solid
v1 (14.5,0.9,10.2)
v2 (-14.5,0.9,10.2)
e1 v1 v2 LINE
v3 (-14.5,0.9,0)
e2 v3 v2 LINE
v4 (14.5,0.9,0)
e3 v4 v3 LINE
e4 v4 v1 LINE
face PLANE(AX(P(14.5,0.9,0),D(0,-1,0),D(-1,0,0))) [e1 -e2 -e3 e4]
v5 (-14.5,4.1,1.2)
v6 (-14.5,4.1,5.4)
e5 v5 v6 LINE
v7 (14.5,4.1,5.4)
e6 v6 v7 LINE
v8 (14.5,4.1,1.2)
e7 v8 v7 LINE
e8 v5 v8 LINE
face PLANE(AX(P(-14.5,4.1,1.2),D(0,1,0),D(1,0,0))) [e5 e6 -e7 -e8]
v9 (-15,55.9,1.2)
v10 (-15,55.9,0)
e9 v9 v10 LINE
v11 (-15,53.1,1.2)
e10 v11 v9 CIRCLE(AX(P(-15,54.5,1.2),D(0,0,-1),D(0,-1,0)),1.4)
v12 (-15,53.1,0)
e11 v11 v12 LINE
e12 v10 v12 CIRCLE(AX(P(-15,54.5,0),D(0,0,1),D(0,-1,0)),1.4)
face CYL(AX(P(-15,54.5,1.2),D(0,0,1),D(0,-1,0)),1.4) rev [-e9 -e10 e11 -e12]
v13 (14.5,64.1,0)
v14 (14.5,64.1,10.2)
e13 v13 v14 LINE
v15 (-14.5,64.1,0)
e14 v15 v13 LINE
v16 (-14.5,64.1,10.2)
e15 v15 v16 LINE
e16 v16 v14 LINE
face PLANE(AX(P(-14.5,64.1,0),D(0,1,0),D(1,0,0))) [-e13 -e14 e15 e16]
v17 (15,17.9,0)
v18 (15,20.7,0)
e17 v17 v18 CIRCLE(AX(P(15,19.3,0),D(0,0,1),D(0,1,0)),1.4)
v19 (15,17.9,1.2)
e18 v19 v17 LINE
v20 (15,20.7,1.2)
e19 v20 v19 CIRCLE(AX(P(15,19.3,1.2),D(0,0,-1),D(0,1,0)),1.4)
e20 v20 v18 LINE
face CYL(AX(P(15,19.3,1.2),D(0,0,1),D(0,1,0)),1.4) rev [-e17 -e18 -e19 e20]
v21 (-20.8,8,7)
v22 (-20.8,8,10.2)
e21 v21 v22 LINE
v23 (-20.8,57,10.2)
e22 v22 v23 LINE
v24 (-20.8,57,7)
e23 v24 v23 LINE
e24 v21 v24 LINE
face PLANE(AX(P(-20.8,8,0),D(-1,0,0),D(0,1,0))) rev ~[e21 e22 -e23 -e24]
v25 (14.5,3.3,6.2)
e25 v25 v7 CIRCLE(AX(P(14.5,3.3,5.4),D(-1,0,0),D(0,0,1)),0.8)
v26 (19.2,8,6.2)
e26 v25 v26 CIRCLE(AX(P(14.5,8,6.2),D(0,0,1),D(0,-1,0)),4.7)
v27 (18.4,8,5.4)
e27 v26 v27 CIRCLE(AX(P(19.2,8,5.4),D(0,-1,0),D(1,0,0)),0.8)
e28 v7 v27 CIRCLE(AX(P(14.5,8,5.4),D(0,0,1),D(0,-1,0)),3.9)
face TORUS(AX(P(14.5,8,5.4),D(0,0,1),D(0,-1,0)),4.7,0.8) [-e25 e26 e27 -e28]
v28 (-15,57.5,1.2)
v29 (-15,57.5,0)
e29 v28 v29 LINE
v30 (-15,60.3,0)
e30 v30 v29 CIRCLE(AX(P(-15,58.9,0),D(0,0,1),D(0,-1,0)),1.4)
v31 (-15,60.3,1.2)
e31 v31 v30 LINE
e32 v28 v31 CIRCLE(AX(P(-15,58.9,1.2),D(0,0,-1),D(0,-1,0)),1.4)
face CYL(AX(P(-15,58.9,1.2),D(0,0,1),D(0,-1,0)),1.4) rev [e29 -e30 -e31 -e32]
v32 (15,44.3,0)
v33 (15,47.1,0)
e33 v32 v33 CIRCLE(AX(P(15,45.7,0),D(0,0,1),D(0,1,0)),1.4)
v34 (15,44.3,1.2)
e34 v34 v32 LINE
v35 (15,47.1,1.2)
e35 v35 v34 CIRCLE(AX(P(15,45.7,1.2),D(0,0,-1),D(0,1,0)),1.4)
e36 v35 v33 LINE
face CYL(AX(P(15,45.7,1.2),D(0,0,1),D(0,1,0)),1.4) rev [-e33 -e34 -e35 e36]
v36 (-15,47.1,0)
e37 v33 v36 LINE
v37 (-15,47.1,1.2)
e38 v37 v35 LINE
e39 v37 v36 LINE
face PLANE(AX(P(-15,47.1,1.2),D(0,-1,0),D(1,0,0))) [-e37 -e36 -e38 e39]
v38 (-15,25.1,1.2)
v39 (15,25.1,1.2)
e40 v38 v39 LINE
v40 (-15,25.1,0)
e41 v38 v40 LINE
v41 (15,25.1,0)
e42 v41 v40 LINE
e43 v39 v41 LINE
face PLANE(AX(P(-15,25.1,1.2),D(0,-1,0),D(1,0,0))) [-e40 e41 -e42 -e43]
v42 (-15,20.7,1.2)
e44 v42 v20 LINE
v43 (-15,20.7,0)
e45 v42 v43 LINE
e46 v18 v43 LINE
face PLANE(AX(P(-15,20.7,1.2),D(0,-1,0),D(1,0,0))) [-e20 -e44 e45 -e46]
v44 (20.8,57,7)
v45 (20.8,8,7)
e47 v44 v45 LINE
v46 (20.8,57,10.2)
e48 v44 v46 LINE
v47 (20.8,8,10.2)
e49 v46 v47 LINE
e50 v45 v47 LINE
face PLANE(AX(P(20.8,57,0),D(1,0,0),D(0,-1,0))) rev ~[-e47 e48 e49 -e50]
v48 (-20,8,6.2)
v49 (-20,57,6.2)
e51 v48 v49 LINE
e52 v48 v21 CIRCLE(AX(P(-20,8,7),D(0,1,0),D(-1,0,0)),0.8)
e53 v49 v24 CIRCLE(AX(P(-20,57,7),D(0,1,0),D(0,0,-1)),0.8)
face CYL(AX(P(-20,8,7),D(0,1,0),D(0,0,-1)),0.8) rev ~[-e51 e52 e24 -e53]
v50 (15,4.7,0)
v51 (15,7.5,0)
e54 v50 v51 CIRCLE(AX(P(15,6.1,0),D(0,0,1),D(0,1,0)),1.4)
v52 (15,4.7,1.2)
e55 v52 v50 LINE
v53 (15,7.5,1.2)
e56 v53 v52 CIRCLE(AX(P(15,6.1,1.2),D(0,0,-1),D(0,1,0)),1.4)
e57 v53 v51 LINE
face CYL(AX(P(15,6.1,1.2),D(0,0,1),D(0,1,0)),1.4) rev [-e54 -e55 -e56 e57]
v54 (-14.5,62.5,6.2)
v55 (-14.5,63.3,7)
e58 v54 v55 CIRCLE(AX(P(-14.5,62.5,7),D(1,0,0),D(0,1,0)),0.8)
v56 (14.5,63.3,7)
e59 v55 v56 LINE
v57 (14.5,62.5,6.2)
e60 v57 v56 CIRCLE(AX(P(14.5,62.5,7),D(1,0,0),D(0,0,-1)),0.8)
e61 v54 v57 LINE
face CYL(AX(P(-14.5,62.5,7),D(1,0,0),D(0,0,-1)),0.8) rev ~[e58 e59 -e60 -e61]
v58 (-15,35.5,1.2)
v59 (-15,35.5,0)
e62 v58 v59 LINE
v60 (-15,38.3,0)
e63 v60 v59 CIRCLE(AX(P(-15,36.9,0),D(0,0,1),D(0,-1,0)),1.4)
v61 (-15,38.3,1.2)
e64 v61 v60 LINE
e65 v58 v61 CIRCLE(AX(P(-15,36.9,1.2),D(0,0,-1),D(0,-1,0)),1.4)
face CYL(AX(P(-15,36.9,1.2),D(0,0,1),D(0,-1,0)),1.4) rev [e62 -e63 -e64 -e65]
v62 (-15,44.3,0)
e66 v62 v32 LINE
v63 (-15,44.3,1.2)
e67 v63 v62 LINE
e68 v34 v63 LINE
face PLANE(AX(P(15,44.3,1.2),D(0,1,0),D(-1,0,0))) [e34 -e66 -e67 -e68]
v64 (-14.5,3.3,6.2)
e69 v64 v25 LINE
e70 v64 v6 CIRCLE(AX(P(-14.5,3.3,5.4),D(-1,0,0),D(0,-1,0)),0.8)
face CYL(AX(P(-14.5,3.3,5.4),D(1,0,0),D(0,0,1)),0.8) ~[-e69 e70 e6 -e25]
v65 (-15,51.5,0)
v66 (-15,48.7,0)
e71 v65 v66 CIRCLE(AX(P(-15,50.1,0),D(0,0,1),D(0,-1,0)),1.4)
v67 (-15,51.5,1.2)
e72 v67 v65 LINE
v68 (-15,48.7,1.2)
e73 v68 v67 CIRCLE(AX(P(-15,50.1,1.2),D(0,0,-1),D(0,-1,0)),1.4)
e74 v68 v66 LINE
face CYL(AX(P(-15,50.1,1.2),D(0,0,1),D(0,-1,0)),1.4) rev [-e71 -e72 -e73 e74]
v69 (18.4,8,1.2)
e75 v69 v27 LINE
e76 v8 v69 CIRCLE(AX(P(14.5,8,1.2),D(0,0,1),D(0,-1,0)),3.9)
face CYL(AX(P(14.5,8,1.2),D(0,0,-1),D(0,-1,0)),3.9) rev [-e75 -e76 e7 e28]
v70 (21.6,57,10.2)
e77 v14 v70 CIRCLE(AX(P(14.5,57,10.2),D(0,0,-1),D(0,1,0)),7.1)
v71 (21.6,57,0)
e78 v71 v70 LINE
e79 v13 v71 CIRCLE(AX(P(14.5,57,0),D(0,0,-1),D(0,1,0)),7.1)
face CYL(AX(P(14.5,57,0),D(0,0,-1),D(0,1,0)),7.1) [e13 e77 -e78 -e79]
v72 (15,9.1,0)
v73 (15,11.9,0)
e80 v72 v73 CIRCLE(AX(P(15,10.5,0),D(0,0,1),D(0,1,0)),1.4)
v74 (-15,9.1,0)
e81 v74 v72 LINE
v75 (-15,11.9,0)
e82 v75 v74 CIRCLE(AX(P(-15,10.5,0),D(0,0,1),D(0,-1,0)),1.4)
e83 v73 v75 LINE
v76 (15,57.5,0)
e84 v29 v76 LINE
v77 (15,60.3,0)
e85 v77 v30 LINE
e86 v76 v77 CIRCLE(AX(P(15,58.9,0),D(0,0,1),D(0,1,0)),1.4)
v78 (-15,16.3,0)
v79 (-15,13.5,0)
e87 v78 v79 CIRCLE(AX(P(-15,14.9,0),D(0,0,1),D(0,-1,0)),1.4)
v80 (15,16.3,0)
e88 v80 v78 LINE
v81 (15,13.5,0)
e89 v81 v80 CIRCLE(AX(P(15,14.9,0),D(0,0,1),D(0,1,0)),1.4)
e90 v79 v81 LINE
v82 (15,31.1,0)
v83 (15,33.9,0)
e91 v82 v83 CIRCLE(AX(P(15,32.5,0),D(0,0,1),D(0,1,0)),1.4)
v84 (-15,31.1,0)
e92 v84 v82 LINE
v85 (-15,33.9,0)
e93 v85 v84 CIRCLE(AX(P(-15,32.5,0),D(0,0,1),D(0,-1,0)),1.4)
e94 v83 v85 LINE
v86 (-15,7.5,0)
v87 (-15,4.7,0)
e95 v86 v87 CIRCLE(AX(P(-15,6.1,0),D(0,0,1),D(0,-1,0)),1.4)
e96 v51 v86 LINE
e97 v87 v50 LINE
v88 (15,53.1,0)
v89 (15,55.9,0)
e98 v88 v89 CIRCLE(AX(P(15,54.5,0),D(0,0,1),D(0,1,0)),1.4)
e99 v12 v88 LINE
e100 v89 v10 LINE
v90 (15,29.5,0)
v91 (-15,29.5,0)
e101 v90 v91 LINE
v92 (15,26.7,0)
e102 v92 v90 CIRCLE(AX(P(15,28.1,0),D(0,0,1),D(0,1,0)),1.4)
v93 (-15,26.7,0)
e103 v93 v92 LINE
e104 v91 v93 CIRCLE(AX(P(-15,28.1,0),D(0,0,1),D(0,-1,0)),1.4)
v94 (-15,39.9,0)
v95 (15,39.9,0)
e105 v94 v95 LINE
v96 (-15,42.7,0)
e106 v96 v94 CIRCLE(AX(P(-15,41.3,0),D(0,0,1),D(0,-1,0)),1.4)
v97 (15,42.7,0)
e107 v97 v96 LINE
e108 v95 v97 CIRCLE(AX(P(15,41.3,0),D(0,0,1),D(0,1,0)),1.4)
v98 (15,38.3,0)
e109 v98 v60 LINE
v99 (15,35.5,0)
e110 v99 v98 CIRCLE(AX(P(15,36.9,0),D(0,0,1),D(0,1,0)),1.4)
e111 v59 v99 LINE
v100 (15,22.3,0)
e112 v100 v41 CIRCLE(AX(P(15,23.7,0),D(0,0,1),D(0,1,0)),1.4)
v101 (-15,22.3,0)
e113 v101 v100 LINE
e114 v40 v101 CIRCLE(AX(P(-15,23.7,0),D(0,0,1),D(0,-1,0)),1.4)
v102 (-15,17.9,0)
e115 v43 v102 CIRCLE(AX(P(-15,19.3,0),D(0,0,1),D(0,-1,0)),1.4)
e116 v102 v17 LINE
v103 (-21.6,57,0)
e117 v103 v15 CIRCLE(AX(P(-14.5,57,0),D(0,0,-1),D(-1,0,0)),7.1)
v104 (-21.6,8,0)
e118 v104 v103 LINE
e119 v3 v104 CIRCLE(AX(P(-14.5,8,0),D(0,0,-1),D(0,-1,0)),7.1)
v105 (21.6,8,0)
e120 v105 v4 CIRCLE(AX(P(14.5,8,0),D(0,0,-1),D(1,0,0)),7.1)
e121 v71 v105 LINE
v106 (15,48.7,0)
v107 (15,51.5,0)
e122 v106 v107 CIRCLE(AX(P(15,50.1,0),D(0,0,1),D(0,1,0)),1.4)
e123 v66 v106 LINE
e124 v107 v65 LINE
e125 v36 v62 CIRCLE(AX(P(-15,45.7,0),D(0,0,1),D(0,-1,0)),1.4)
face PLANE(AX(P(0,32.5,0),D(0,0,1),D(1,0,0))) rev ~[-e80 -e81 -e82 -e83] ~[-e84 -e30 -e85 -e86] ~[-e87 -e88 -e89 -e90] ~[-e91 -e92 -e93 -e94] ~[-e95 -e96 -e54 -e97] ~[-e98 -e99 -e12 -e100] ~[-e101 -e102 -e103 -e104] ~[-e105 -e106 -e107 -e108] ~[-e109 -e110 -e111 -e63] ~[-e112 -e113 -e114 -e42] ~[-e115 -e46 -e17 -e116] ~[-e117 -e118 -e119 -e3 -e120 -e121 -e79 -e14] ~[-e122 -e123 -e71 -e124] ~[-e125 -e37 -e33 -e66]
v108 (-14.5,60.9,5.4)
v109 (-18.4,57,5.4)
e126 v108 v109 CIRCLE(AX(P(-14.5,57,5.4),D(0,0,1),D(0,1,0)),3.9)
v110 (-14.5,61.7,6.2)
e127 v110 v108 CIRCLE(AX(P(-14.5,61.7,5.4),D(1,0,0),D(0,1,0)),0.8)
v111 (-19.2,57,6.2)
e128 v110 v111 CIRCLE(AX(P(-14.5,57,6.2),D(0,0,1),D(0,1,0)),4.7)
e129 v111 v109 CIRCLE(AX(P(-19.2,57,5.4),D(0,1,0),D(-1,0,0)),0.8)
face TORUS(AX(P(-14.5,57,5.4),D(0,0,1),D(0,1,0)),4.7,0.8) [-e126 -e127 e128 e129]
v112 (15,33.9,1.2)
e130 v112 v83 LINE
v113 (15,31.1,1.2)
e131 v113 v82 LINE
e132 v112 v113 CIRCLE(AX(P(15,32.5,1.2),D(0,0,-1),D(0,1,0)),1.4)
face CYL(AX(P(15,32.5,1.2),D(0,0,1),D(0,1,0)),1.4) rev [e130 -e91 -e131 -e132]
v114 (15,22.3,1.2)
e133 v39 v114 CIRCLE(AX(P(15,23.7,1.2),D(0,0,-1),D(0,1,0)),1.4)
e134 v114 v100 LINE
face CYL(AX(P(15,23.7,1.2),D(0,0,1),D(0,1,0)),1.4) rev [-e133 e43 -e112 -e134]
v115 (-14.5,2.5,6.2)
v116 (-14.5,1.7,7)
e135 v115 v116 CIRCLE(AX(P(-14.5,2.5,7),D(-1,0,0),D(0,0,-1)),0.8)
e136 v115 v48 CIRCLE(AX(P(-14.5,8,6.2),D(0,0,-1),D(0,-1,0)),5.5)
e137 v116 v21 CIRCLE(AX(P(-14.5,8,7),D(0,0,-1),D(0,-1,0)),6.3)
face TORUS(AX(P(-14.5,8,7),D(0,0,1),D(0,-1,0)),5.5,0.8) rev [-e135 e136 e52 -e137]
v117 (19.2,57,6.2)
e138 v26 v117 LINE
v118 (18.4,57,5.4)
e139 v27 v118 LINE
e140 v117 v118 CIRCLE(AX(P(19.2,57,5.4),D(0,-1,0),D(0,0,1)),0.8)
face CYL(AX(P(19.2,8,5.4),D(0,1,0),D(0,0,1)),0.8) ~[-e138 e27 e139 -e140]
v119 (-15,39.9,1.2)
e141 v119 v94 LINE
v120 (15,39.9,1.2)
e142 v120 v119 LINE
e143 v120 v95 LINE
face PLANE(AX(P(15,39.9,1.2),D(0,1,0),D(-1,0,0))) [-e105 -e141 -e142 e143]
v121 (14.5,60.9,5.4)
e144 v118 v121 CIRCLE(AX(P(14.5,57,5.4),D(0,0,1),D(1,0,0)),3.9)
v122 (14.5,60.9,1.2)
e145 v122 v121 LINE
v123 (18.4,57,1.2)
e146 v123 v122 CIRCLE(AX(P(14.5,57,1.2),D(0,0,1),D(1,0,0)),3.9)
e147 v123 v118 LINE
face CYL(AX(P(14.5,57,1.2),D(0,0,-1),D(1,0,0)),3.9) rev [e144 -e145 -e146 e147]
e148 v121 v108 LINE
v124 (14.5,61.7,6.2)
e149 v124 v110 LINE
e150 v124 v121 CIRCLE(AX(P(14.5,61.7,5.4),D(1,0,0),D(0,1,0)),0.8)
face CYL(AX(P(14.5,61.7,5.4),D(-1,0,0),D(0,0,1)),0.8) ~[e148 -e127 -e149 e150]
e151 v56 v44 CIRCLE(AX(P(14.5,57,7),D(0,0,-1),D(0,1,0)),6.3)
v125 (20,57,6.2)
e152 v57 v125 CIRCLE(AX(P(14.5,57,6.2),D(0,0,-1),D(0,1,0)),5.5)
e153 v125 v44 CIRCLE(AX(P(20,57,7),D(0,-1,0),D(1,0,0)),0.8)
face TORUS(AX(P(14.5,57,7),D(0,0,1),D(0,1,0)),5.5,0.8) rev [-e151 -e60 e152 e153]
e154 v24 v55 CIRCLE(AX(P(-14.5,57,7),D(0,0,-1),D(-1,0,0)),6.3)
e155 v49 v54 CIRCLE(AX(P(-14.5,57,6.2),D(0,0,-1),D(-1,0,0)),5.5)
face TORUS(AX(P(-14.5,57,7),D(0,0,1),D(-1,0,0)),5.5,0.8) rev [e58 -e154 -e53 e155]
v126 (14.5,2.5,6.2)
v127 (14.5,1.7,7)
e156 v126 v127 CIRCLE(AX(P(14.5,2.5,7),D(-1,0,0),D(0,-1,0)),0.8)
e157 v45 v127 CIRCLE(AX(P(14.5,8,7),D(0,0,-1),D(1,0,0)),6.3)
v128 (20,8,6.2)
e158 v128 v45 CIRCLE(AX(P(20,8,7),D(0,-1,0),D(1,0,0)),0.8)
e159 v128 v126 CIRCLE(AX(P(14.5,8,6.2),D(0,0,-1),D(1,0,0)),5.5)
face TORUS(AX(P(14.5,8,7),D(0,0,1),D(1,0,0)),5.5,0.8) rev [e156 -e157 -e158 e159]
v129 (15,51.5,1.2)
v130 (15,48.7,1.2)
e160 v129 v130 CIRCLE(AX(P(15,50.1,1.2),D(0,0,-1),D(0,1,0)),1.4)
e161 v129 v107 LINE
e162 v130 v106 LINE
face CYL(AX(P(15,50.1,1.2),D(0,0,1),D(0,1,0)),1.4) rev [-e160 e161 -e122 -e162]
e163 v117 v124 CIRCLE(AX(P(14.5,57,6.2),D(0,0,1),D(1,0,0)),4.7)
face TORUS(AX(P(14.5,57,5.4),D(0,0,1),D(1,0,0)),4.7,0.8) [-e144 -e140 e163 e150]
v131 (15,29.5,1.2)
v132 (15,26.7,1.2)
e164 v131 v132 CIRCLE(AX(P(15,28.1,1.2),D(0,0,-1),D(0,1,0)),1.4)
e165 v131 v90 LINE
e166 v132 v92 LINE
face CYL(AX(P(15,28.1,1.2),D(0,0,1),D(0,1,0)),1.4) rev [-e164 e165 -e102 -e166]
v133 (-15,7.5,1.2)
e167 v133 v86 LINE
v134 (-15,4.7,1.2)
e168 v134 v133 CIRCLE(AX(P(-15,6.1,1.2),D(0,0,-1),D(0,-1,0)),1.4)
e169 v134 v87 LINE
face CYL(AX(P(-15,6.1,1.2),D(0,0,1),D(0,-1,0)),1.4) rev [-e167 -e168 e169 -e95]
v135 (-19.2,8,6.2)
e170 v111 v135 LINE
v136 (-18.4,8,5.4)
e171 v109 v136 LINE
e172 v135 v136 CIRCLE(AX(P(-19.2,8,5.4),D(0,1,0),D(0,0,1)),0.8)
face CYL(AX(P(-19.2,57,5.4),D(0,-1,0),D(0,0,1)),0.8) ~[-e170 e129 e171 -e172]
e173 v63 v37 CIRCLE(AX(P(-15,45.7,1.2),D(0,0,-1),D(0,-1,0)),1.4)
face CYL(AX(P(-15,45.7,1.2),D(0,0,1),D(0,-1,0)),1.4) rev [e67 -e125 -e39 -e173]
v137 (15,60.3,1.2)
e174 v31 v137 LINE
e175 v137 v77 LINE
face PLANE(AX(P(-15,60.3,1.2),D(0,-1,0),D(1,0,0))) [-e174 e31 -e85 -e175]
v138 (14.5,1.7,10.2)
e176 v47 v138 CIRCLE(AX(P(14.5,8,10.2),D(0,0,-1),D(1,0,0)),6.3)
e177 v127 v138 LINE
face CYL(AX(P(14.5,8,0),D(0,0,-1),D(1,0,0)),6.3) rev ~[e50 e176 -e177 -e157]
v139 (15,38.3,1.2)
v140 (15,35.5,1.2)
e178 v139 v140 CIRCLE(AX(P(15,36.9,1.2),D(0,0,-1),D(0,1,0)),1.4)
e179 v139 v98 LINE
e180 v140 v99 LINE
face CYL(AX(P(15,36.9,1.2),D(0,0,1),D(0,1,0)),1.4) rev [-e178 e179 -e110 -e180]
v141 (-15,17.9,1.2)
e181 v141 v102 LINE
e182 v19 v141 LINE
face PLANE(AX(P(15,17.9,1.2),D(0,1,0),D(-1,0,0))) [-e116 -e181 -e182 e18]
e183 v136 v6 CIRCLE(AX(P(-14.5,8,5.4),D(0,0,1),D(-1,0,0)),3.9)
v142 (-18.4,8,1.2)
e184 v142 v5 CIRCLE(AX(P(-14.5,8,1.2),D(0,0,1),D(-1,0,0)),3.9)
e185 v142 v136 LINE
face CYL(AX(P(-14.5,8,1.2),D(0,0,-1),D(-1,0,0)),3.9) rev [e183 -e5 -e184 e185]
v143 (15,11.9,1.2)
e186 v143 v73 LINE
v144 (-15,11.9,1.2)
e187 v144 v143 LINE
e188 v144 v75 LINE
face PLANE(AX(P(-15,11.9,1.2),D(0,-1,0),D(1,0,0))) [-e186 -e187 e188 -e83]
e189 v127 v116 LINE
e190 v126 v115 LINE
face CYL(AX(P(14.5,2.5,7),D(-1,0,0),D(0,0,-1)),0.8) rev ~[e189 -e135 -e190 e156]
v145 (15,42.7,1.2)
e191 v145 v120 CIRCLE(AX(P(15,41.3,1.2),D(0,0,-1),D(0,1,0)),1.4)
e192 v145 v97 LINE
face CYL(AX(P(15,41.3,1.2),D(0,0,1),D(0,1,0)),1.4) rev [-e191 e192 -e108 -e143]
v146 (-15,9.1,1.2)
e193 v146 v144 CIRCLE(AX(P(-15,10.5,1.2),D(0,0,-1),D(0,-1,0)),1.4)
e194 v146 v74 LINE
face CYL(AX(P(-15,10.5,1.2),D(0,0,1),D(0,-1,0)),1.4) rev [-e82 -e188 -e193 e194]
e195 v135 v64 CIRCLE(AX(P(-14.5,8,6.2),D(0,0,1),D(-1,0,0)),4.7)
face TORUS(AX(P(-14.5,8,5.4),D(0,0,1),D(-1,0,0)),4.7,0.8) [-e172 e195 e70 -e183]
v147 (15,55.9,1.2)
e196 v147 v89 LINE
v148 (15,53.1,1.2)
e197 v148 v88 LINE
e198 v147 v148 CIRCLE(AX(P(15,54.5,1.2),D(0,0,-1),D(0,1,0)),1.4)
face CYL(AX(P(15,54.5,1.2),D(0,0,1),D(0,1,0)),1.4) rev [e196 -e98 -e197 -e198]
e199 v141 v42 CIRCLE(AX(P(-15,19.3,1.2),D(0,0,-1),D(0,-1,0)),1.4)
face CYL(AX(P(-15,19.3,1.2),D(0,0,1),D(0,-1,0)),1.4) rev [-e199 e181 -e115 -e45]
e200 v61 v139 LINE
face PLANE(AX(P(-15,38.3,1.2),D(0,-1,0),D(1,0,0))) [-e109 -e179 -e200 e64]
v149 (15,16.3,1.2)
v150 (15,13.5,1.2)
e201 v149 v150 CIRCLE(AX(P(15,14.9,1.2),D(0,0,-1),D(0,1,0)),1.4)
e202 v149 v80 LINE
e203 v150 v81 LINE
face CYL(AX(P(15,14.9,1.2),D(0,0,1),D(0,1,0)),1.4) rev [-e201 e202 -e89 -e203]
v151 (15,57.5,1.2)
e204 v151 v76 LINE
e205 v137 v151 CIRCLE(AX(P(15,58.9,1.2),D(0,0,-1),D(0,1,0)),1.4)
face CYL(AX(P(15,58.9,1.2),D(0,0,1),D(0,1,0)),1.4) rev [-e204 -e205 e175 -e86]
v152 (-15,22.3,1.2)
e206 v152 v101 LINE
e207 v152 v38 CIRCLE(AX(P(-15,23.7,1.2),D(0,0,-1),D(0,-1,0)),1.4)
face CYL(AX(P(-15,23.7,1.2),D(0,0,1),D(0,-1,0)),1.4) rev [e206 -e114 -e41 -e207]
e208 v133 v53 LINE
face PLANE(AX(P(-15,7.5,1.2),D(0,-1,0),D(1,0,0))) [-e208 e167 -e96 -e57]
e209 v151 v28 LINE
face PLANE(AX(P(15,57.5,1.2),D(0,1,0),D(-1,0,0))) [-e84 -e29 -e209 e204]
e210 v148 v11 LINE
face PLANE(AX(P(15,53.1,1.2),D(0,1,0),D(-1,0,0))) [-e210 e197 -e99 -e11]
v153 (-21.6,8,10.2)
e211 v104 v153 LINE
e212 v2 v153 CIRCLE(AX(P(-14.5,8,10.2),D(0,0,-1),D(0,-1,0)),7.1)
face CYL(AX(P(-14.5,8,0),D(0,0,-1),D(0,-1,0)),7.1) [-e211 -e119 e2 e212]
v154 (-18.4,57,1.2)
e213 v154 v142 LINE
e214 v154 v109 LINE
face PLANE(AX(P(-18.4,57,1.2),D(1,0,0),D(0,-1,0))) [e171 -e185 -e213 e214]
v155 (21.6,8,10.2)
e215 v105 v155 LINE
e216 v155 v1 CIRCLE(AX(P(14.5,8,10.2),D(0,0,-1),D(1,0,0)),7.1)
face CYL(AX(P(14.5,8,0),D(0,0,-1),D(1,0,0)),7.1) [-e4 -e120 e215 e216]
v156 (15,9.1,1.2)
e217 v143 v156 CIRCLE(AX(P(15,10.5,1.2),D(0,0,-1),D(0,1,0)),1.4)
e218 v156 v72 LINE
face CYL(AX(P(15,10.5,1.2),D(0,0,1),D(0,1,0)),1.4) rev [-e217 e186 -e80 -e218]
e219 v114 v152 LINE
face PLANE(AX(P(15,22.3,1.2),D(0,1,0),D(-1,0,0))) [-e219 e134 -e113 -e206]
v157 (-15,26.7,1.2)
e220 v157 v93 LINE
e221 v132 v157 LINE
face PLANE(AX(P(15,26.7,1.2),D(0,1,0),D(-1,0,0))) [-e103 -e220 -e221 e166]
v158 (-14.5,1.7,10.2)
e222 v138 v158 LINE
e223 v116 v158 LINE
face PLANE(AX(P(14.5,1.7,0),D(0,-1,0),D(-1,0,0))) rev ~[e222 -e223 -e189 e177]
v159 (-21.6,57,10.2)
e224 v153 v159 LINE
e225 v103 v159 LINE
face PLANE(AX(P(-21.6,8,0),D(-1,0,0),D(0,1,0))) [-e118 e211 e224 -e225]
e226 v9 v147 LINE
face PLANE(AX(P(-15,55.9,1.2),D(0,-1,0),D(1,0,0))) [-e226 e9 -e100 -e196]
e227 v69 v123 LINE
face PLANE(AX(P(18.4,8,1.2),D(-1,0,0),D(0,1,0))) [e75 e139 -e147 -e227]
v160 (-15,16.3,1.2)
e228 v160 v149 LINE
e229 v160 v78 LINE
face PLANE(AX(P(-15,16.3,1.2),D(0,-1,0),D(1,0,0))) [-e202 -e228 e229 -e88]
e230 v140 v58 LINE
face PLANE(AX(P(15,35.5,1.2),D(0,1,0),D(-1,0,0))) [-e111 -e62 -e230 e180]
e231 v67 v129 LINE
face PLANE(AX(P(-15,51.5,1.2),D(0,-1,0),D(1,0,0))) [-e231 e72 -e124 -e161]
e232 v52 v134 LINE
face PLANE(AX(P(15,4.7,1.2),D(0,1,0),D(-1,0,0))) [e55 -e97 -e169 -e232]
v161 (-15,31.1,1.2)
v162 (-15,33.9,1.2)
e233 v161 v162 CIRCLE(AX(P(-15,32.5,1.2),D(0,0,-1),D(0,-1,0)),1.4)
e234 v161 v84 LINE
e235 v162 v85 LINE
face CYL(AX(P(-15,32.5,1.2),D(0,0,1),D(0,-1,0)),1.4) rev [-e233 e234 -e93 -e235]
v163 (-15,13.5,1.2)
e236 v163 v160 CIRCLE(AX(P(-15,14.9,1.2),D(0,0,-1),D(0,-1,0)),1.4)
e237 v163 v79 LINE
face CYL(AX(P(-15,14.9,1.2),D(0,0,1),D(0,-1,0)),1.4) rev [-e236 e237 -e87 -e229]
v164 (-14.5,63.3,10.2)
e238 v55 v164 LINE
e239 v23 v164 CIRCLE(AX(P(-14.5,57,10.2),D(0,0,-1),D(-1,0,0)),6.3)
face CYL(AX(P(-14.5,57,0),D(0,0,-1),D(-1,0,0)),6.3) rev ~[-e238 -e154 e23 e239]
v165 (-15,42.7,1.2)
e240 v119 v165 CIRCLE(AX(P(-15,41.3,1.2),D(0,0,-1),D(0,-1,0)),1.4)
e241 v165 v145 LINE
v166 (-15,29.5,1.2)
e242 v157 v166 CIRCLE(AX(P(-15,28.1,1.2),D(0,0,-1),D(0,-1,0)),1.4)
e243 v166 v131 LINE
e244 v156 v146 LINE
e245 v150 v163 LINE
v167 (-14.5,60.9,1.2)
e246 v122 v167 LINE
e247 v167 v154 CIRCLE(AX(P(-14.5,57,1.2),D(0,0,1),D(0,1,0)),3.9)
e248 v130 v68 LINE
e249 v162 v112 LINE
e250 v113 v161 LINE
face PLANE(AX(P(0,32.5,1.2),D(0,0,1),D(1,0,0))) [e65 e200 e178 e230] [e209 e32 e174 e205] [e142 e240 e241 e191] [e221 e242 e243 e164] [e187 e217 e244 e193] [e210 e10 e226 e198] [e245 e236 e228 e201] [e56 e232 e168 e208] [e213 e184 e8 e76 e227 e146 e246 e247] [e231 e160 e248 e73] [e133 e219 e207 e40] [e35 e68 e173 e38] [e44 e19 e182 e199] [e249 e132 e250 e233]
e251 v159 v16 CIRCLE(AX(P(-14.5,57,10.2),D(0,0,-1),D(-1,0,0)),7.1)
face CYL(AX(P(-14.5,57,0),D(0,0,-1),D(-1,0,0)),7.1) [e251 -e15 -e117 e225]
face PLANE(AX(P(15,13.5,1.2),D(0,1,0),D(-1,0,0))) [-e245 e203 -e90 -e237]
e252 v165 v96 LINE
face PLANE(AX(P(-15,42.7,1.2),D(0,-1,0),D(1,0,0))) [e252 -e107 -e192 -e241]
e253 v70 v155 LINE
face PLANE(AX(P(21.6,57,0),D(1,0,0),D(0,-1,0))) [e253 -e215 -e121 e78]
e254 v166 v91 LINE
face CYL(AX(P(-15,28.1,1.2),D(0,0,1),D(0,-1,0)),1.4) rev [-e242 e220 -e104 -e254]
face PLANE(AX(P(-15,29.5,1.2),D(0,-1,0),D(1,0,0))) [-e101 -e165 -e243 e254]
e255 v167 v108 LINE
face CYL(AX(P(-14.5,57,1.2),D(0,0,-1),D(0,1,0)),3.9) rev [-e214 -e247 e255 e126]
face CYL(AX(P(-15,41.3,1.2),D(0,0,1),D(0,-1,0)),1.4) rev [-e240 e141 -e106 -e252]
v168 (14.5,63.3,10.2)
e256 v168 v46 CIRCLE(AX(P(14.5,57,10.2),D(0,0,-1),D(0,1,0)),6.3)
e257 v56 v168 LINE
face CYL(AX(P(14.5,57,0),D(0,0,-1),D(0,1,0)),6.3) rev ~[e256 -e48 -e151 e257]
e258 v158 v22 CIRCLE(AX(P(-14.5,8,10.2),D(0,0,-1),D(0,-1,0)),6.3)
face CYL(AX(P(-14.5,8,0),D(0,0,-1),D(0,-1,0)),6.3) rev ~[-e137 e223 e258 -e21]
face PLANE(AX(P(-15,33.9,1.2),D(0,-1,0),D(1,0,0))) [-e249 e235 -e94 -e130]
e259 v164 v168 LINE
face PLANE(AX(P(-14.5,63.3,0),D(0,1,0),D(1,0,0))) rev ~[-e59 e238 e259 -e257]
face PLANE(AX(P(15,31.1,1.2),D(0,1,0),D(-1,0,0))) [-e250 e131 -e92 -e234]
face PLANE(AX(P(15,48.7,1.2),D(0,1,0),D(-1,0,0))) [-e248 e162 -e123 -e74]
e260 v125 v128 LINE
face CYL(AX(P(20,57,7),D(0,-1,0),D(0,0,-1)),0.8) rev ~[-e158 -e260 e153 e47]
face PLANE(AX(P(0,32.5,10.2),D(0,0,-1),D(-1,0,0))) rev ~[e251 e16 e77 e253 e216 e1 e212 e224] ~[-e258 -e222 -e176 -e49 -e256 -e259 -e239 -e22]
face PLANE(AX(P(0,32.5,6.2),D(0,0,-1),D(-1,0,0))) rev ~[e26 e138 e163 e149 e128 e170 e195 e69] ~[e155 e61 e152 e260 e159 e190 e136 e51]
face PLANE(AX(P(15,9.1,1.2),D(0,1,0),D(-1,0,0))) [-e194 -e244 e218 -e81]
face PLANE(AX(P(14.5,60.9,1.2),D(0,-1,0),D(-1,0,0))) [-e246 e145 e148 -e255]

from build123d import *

# Parameters (mm, degrees)
BOSS_EXTRUDE1_DEPTH = 10.2
BOSS_EXTRUDE2_DEPTH = 1.2
BOSS_EXTRUDE3_DEPTH = 5
FILLET1_R           = 0.8
CUT_EXTRUDE3_REACH  = 70.238
LPATTERN1_COUNT     = 7
LPATTERN1_PITCH     = 4.4
LPATTERN1_COL_COUNT = 7
LPATTERN1_COL_PITCH = 4.4


with BuildPart() as part:
    # Sketch1 → Boss-Extrude1 (new body)
    with BuildSketch(Plane.XY):
        with BuildLine():
            Line((-21.6, 8), (-21.6, 57))
            ThreePointArc((-21.6, 57), (-19.520458146, 62.020458146), (-14.5, 64.1))
            Line((-14.5, 64.1), (14.5, 64.1))
            ThreePointArc((14.5, 64.1), (19.520458146, 62.020458146), (21.6, 57))
            Line((21.6, 57), (21.6, 8))
            ThreePointArc((21.6, 8), (19.520458146, 2.979541854), (14.5, 0.9))
            Line((14.5, 0.9), (-14.5, 0.9))
            ThreePointArc((-14.5, 0.9), (-19.520458146, 2.979541854), (-21.6, 8))
        make_face()
        with BuildLine():
            Line((-20.8, 8), (-20.8, 57))
            ThreePointArc((-20.8, 57), (-18.954772721, 61.454772721), (-14.5, 63.3))
            Line((-14.5, 63.3), (14.5, 63.3))
            ThreePointArc((14.5, 63.3), (18.954772721, 61.454772721), (20.8, 57))
            Line((20.8, 57), (20.8, 8))
            ThreePointArc((20.8, 8), (18.954772721, 3.545227279), (14.5, 1.7))
            Line((14.5, 1.7), (-14.5, 1.7))
            ThreePointArc((-14.5, 1.7), (-18.954772721, 3.545227279), (-20.8, 8))
        make_face(mode=Mode.SUBTRACT)
    extrude(amount=BOSS_EXTRUDE1_DEPTH)

    # Sketch2 → Boss-Extrude2 (add)
    with BuildSketch(Plane(origin=(0, 0, 0), x_dir=(-1, 0, 0), z_dir=(0, 0, -1))):
        with BuildLine():
            Line((-14.5, 63.3), (14.5, 63.3))
            ThreePointArc((14.5, 63.3), (18.954772721, 61.454772721), (20.8, 57))
            Line((20.8, 57), (20.8, 8))
            ThreePointArc((20.8, 8), (18.954772721, 3.545227279), (14.5, 1.7))
            Line((14.5, 1.7), (-14.5, 1.7))
            ThreePointArc((-14.5, 1.7), (-18.954772721, 3.545227279), (-20.8, 8))
            Line((-20.8, 8), (-20.8, 57))
            ThreePointArc((-20.8, 57), (-18.954772721, 61.454772721), (-14.5, 63.3))
        make_face()
    extrude(amount=-BOSS_EXTRUDE2_DEPTH)

    # Sketch3 → Boss-Extrude3 (add)
    with BuildSketch(Plane.XY.offset(1.2)):
        with BuildLine():
            Line((14.5, 1.7), (-14.5, 1.7))
            ThreePointArc((-14.5, 1.7), (-18.954772721, 3.545227279), (-20.8, 8))
            Line((-20.8, 8), (-20.8, 57))
            ThreePointArc((-20.8, 57), (-18.954772721, 61.454772721), (-14.5, 63.3))
            Line((-14.5, 63.3), (14.5, 63.3))
            ThreePointArc((14.5, 63.3), (18.954772721, 61.454772721), (20.8, 57))
            Line((20.8, 57), (20.8, 8))
            ThreePointArc((20.8, 8), (18.954772721, 3.545227279), (14.5, 1.7))
        make_face()
        with BuildLine():
            Line((-14.5, 4.1), (14.5, 4.1))
            ThreePointArc((14.5, 4.1), (17.257716447, 5.242283553), (18.4, 8))
            Line((18.4, 8), (18.4, 57))
            ThreePointArc((18.4, 57), (17.257716447, 59.757716447), (14.5, 60.9))
            Line((14.5, 60.9), (-14.5, 60.9))
            ThreePointArc((-14.5, 60.9), (-17.257716447, 59.757716447), (-18.4, 57))
            Line((-18.4, 57), (-18.4, 8))
            ThreePointArc((-18.4, 8), (-17.257716447, 5.242283553), (-14.5, 4.1))
        make_face(mode=Mode.SUBTRACT)
    extrude(amount=BOSS_EXTRUDE3_DEPTH)

    # Fillet1
    fillet1_edges = [part.edges().sort_by_distance(p)[0] for p in [
        (-17.257716447, 59.757716447, 6.2),
        (-18.4, 32.5, 6.2),
        (18.954772721, 3.545227279, 6.2),
        (20.8, 32.5, 6.2),
        (18.954772721, 61.454772721, 6.2),
        (0, 63.3, 6.2),
        (-18.954772721, 61.454772721, 6.2),
        (-20.8, 32.5, 6.2),
        (-18.954772721, 3.545227279, 6.2),
        (0, 1.7, 6.2),
        (-17.257716447, 5.242283553, 6.2),
        (0, 4.1, 6.2),
        (17.257716447, 5.242283553, 6.2),
        (18.4, 32.5, 6.2),
        (17.257716447, 59.757716447, 6.2),
        (0, 60.9, 6.2),
    ]]
    fillet(fillet1_edges, radius=FILLET1_R)

    # Sketch6 → Cut-Extrude3 (cut, up to next)
    with BuildSketch(Plane.XY.offset(1.2), mode=Mode.PRIVATE) as cut_extrude3_sk1:
        with BuildLine():
            Line((-15, 33.9), (15, 33.9))
            ThreePointArc((15, 33.9), (16.4, 32.5), (15, 31.1))
            Line((15, 31.1), (-15, 31.1))
            ThreePointArc((-15, 31.1), (-16.4, 32.5), (-15, 33.9))
        make_face()
    cut_extrude3_tool1 = extrude(cut_extrude3_sk1.sketch, amount=-CUT_EXTRUDE3_REACH, mode=Mode.PRIVATE) & part.part
    cut_extrude3 = cut_extrude3_tool1.solids().sort_by_distance((0, 32.5, 1.2))[0]
    add(cut_extrude3, mode=Mode.SUBTRACT)

    # LPattern1: Cut-Extrude3 ×7
    with Locations(*[(0, -i * LPATTERN1_PITCH, 0) for i in range(1, LPATTERN1_COUNT)]):
        add(cut_extrude3, mode=Mode.SUBTRACT)

    # LPattern1 col: Cut-Extrude3 ×7
    with Locations(*[(0, i * LPATTERN1_COL_PITCH, 0) for i in range(1, LPATTERN1_COL_COUNT)]):
        add(cut_extrude3, mode=Mode.SUBTRACT)


solid = part.part
